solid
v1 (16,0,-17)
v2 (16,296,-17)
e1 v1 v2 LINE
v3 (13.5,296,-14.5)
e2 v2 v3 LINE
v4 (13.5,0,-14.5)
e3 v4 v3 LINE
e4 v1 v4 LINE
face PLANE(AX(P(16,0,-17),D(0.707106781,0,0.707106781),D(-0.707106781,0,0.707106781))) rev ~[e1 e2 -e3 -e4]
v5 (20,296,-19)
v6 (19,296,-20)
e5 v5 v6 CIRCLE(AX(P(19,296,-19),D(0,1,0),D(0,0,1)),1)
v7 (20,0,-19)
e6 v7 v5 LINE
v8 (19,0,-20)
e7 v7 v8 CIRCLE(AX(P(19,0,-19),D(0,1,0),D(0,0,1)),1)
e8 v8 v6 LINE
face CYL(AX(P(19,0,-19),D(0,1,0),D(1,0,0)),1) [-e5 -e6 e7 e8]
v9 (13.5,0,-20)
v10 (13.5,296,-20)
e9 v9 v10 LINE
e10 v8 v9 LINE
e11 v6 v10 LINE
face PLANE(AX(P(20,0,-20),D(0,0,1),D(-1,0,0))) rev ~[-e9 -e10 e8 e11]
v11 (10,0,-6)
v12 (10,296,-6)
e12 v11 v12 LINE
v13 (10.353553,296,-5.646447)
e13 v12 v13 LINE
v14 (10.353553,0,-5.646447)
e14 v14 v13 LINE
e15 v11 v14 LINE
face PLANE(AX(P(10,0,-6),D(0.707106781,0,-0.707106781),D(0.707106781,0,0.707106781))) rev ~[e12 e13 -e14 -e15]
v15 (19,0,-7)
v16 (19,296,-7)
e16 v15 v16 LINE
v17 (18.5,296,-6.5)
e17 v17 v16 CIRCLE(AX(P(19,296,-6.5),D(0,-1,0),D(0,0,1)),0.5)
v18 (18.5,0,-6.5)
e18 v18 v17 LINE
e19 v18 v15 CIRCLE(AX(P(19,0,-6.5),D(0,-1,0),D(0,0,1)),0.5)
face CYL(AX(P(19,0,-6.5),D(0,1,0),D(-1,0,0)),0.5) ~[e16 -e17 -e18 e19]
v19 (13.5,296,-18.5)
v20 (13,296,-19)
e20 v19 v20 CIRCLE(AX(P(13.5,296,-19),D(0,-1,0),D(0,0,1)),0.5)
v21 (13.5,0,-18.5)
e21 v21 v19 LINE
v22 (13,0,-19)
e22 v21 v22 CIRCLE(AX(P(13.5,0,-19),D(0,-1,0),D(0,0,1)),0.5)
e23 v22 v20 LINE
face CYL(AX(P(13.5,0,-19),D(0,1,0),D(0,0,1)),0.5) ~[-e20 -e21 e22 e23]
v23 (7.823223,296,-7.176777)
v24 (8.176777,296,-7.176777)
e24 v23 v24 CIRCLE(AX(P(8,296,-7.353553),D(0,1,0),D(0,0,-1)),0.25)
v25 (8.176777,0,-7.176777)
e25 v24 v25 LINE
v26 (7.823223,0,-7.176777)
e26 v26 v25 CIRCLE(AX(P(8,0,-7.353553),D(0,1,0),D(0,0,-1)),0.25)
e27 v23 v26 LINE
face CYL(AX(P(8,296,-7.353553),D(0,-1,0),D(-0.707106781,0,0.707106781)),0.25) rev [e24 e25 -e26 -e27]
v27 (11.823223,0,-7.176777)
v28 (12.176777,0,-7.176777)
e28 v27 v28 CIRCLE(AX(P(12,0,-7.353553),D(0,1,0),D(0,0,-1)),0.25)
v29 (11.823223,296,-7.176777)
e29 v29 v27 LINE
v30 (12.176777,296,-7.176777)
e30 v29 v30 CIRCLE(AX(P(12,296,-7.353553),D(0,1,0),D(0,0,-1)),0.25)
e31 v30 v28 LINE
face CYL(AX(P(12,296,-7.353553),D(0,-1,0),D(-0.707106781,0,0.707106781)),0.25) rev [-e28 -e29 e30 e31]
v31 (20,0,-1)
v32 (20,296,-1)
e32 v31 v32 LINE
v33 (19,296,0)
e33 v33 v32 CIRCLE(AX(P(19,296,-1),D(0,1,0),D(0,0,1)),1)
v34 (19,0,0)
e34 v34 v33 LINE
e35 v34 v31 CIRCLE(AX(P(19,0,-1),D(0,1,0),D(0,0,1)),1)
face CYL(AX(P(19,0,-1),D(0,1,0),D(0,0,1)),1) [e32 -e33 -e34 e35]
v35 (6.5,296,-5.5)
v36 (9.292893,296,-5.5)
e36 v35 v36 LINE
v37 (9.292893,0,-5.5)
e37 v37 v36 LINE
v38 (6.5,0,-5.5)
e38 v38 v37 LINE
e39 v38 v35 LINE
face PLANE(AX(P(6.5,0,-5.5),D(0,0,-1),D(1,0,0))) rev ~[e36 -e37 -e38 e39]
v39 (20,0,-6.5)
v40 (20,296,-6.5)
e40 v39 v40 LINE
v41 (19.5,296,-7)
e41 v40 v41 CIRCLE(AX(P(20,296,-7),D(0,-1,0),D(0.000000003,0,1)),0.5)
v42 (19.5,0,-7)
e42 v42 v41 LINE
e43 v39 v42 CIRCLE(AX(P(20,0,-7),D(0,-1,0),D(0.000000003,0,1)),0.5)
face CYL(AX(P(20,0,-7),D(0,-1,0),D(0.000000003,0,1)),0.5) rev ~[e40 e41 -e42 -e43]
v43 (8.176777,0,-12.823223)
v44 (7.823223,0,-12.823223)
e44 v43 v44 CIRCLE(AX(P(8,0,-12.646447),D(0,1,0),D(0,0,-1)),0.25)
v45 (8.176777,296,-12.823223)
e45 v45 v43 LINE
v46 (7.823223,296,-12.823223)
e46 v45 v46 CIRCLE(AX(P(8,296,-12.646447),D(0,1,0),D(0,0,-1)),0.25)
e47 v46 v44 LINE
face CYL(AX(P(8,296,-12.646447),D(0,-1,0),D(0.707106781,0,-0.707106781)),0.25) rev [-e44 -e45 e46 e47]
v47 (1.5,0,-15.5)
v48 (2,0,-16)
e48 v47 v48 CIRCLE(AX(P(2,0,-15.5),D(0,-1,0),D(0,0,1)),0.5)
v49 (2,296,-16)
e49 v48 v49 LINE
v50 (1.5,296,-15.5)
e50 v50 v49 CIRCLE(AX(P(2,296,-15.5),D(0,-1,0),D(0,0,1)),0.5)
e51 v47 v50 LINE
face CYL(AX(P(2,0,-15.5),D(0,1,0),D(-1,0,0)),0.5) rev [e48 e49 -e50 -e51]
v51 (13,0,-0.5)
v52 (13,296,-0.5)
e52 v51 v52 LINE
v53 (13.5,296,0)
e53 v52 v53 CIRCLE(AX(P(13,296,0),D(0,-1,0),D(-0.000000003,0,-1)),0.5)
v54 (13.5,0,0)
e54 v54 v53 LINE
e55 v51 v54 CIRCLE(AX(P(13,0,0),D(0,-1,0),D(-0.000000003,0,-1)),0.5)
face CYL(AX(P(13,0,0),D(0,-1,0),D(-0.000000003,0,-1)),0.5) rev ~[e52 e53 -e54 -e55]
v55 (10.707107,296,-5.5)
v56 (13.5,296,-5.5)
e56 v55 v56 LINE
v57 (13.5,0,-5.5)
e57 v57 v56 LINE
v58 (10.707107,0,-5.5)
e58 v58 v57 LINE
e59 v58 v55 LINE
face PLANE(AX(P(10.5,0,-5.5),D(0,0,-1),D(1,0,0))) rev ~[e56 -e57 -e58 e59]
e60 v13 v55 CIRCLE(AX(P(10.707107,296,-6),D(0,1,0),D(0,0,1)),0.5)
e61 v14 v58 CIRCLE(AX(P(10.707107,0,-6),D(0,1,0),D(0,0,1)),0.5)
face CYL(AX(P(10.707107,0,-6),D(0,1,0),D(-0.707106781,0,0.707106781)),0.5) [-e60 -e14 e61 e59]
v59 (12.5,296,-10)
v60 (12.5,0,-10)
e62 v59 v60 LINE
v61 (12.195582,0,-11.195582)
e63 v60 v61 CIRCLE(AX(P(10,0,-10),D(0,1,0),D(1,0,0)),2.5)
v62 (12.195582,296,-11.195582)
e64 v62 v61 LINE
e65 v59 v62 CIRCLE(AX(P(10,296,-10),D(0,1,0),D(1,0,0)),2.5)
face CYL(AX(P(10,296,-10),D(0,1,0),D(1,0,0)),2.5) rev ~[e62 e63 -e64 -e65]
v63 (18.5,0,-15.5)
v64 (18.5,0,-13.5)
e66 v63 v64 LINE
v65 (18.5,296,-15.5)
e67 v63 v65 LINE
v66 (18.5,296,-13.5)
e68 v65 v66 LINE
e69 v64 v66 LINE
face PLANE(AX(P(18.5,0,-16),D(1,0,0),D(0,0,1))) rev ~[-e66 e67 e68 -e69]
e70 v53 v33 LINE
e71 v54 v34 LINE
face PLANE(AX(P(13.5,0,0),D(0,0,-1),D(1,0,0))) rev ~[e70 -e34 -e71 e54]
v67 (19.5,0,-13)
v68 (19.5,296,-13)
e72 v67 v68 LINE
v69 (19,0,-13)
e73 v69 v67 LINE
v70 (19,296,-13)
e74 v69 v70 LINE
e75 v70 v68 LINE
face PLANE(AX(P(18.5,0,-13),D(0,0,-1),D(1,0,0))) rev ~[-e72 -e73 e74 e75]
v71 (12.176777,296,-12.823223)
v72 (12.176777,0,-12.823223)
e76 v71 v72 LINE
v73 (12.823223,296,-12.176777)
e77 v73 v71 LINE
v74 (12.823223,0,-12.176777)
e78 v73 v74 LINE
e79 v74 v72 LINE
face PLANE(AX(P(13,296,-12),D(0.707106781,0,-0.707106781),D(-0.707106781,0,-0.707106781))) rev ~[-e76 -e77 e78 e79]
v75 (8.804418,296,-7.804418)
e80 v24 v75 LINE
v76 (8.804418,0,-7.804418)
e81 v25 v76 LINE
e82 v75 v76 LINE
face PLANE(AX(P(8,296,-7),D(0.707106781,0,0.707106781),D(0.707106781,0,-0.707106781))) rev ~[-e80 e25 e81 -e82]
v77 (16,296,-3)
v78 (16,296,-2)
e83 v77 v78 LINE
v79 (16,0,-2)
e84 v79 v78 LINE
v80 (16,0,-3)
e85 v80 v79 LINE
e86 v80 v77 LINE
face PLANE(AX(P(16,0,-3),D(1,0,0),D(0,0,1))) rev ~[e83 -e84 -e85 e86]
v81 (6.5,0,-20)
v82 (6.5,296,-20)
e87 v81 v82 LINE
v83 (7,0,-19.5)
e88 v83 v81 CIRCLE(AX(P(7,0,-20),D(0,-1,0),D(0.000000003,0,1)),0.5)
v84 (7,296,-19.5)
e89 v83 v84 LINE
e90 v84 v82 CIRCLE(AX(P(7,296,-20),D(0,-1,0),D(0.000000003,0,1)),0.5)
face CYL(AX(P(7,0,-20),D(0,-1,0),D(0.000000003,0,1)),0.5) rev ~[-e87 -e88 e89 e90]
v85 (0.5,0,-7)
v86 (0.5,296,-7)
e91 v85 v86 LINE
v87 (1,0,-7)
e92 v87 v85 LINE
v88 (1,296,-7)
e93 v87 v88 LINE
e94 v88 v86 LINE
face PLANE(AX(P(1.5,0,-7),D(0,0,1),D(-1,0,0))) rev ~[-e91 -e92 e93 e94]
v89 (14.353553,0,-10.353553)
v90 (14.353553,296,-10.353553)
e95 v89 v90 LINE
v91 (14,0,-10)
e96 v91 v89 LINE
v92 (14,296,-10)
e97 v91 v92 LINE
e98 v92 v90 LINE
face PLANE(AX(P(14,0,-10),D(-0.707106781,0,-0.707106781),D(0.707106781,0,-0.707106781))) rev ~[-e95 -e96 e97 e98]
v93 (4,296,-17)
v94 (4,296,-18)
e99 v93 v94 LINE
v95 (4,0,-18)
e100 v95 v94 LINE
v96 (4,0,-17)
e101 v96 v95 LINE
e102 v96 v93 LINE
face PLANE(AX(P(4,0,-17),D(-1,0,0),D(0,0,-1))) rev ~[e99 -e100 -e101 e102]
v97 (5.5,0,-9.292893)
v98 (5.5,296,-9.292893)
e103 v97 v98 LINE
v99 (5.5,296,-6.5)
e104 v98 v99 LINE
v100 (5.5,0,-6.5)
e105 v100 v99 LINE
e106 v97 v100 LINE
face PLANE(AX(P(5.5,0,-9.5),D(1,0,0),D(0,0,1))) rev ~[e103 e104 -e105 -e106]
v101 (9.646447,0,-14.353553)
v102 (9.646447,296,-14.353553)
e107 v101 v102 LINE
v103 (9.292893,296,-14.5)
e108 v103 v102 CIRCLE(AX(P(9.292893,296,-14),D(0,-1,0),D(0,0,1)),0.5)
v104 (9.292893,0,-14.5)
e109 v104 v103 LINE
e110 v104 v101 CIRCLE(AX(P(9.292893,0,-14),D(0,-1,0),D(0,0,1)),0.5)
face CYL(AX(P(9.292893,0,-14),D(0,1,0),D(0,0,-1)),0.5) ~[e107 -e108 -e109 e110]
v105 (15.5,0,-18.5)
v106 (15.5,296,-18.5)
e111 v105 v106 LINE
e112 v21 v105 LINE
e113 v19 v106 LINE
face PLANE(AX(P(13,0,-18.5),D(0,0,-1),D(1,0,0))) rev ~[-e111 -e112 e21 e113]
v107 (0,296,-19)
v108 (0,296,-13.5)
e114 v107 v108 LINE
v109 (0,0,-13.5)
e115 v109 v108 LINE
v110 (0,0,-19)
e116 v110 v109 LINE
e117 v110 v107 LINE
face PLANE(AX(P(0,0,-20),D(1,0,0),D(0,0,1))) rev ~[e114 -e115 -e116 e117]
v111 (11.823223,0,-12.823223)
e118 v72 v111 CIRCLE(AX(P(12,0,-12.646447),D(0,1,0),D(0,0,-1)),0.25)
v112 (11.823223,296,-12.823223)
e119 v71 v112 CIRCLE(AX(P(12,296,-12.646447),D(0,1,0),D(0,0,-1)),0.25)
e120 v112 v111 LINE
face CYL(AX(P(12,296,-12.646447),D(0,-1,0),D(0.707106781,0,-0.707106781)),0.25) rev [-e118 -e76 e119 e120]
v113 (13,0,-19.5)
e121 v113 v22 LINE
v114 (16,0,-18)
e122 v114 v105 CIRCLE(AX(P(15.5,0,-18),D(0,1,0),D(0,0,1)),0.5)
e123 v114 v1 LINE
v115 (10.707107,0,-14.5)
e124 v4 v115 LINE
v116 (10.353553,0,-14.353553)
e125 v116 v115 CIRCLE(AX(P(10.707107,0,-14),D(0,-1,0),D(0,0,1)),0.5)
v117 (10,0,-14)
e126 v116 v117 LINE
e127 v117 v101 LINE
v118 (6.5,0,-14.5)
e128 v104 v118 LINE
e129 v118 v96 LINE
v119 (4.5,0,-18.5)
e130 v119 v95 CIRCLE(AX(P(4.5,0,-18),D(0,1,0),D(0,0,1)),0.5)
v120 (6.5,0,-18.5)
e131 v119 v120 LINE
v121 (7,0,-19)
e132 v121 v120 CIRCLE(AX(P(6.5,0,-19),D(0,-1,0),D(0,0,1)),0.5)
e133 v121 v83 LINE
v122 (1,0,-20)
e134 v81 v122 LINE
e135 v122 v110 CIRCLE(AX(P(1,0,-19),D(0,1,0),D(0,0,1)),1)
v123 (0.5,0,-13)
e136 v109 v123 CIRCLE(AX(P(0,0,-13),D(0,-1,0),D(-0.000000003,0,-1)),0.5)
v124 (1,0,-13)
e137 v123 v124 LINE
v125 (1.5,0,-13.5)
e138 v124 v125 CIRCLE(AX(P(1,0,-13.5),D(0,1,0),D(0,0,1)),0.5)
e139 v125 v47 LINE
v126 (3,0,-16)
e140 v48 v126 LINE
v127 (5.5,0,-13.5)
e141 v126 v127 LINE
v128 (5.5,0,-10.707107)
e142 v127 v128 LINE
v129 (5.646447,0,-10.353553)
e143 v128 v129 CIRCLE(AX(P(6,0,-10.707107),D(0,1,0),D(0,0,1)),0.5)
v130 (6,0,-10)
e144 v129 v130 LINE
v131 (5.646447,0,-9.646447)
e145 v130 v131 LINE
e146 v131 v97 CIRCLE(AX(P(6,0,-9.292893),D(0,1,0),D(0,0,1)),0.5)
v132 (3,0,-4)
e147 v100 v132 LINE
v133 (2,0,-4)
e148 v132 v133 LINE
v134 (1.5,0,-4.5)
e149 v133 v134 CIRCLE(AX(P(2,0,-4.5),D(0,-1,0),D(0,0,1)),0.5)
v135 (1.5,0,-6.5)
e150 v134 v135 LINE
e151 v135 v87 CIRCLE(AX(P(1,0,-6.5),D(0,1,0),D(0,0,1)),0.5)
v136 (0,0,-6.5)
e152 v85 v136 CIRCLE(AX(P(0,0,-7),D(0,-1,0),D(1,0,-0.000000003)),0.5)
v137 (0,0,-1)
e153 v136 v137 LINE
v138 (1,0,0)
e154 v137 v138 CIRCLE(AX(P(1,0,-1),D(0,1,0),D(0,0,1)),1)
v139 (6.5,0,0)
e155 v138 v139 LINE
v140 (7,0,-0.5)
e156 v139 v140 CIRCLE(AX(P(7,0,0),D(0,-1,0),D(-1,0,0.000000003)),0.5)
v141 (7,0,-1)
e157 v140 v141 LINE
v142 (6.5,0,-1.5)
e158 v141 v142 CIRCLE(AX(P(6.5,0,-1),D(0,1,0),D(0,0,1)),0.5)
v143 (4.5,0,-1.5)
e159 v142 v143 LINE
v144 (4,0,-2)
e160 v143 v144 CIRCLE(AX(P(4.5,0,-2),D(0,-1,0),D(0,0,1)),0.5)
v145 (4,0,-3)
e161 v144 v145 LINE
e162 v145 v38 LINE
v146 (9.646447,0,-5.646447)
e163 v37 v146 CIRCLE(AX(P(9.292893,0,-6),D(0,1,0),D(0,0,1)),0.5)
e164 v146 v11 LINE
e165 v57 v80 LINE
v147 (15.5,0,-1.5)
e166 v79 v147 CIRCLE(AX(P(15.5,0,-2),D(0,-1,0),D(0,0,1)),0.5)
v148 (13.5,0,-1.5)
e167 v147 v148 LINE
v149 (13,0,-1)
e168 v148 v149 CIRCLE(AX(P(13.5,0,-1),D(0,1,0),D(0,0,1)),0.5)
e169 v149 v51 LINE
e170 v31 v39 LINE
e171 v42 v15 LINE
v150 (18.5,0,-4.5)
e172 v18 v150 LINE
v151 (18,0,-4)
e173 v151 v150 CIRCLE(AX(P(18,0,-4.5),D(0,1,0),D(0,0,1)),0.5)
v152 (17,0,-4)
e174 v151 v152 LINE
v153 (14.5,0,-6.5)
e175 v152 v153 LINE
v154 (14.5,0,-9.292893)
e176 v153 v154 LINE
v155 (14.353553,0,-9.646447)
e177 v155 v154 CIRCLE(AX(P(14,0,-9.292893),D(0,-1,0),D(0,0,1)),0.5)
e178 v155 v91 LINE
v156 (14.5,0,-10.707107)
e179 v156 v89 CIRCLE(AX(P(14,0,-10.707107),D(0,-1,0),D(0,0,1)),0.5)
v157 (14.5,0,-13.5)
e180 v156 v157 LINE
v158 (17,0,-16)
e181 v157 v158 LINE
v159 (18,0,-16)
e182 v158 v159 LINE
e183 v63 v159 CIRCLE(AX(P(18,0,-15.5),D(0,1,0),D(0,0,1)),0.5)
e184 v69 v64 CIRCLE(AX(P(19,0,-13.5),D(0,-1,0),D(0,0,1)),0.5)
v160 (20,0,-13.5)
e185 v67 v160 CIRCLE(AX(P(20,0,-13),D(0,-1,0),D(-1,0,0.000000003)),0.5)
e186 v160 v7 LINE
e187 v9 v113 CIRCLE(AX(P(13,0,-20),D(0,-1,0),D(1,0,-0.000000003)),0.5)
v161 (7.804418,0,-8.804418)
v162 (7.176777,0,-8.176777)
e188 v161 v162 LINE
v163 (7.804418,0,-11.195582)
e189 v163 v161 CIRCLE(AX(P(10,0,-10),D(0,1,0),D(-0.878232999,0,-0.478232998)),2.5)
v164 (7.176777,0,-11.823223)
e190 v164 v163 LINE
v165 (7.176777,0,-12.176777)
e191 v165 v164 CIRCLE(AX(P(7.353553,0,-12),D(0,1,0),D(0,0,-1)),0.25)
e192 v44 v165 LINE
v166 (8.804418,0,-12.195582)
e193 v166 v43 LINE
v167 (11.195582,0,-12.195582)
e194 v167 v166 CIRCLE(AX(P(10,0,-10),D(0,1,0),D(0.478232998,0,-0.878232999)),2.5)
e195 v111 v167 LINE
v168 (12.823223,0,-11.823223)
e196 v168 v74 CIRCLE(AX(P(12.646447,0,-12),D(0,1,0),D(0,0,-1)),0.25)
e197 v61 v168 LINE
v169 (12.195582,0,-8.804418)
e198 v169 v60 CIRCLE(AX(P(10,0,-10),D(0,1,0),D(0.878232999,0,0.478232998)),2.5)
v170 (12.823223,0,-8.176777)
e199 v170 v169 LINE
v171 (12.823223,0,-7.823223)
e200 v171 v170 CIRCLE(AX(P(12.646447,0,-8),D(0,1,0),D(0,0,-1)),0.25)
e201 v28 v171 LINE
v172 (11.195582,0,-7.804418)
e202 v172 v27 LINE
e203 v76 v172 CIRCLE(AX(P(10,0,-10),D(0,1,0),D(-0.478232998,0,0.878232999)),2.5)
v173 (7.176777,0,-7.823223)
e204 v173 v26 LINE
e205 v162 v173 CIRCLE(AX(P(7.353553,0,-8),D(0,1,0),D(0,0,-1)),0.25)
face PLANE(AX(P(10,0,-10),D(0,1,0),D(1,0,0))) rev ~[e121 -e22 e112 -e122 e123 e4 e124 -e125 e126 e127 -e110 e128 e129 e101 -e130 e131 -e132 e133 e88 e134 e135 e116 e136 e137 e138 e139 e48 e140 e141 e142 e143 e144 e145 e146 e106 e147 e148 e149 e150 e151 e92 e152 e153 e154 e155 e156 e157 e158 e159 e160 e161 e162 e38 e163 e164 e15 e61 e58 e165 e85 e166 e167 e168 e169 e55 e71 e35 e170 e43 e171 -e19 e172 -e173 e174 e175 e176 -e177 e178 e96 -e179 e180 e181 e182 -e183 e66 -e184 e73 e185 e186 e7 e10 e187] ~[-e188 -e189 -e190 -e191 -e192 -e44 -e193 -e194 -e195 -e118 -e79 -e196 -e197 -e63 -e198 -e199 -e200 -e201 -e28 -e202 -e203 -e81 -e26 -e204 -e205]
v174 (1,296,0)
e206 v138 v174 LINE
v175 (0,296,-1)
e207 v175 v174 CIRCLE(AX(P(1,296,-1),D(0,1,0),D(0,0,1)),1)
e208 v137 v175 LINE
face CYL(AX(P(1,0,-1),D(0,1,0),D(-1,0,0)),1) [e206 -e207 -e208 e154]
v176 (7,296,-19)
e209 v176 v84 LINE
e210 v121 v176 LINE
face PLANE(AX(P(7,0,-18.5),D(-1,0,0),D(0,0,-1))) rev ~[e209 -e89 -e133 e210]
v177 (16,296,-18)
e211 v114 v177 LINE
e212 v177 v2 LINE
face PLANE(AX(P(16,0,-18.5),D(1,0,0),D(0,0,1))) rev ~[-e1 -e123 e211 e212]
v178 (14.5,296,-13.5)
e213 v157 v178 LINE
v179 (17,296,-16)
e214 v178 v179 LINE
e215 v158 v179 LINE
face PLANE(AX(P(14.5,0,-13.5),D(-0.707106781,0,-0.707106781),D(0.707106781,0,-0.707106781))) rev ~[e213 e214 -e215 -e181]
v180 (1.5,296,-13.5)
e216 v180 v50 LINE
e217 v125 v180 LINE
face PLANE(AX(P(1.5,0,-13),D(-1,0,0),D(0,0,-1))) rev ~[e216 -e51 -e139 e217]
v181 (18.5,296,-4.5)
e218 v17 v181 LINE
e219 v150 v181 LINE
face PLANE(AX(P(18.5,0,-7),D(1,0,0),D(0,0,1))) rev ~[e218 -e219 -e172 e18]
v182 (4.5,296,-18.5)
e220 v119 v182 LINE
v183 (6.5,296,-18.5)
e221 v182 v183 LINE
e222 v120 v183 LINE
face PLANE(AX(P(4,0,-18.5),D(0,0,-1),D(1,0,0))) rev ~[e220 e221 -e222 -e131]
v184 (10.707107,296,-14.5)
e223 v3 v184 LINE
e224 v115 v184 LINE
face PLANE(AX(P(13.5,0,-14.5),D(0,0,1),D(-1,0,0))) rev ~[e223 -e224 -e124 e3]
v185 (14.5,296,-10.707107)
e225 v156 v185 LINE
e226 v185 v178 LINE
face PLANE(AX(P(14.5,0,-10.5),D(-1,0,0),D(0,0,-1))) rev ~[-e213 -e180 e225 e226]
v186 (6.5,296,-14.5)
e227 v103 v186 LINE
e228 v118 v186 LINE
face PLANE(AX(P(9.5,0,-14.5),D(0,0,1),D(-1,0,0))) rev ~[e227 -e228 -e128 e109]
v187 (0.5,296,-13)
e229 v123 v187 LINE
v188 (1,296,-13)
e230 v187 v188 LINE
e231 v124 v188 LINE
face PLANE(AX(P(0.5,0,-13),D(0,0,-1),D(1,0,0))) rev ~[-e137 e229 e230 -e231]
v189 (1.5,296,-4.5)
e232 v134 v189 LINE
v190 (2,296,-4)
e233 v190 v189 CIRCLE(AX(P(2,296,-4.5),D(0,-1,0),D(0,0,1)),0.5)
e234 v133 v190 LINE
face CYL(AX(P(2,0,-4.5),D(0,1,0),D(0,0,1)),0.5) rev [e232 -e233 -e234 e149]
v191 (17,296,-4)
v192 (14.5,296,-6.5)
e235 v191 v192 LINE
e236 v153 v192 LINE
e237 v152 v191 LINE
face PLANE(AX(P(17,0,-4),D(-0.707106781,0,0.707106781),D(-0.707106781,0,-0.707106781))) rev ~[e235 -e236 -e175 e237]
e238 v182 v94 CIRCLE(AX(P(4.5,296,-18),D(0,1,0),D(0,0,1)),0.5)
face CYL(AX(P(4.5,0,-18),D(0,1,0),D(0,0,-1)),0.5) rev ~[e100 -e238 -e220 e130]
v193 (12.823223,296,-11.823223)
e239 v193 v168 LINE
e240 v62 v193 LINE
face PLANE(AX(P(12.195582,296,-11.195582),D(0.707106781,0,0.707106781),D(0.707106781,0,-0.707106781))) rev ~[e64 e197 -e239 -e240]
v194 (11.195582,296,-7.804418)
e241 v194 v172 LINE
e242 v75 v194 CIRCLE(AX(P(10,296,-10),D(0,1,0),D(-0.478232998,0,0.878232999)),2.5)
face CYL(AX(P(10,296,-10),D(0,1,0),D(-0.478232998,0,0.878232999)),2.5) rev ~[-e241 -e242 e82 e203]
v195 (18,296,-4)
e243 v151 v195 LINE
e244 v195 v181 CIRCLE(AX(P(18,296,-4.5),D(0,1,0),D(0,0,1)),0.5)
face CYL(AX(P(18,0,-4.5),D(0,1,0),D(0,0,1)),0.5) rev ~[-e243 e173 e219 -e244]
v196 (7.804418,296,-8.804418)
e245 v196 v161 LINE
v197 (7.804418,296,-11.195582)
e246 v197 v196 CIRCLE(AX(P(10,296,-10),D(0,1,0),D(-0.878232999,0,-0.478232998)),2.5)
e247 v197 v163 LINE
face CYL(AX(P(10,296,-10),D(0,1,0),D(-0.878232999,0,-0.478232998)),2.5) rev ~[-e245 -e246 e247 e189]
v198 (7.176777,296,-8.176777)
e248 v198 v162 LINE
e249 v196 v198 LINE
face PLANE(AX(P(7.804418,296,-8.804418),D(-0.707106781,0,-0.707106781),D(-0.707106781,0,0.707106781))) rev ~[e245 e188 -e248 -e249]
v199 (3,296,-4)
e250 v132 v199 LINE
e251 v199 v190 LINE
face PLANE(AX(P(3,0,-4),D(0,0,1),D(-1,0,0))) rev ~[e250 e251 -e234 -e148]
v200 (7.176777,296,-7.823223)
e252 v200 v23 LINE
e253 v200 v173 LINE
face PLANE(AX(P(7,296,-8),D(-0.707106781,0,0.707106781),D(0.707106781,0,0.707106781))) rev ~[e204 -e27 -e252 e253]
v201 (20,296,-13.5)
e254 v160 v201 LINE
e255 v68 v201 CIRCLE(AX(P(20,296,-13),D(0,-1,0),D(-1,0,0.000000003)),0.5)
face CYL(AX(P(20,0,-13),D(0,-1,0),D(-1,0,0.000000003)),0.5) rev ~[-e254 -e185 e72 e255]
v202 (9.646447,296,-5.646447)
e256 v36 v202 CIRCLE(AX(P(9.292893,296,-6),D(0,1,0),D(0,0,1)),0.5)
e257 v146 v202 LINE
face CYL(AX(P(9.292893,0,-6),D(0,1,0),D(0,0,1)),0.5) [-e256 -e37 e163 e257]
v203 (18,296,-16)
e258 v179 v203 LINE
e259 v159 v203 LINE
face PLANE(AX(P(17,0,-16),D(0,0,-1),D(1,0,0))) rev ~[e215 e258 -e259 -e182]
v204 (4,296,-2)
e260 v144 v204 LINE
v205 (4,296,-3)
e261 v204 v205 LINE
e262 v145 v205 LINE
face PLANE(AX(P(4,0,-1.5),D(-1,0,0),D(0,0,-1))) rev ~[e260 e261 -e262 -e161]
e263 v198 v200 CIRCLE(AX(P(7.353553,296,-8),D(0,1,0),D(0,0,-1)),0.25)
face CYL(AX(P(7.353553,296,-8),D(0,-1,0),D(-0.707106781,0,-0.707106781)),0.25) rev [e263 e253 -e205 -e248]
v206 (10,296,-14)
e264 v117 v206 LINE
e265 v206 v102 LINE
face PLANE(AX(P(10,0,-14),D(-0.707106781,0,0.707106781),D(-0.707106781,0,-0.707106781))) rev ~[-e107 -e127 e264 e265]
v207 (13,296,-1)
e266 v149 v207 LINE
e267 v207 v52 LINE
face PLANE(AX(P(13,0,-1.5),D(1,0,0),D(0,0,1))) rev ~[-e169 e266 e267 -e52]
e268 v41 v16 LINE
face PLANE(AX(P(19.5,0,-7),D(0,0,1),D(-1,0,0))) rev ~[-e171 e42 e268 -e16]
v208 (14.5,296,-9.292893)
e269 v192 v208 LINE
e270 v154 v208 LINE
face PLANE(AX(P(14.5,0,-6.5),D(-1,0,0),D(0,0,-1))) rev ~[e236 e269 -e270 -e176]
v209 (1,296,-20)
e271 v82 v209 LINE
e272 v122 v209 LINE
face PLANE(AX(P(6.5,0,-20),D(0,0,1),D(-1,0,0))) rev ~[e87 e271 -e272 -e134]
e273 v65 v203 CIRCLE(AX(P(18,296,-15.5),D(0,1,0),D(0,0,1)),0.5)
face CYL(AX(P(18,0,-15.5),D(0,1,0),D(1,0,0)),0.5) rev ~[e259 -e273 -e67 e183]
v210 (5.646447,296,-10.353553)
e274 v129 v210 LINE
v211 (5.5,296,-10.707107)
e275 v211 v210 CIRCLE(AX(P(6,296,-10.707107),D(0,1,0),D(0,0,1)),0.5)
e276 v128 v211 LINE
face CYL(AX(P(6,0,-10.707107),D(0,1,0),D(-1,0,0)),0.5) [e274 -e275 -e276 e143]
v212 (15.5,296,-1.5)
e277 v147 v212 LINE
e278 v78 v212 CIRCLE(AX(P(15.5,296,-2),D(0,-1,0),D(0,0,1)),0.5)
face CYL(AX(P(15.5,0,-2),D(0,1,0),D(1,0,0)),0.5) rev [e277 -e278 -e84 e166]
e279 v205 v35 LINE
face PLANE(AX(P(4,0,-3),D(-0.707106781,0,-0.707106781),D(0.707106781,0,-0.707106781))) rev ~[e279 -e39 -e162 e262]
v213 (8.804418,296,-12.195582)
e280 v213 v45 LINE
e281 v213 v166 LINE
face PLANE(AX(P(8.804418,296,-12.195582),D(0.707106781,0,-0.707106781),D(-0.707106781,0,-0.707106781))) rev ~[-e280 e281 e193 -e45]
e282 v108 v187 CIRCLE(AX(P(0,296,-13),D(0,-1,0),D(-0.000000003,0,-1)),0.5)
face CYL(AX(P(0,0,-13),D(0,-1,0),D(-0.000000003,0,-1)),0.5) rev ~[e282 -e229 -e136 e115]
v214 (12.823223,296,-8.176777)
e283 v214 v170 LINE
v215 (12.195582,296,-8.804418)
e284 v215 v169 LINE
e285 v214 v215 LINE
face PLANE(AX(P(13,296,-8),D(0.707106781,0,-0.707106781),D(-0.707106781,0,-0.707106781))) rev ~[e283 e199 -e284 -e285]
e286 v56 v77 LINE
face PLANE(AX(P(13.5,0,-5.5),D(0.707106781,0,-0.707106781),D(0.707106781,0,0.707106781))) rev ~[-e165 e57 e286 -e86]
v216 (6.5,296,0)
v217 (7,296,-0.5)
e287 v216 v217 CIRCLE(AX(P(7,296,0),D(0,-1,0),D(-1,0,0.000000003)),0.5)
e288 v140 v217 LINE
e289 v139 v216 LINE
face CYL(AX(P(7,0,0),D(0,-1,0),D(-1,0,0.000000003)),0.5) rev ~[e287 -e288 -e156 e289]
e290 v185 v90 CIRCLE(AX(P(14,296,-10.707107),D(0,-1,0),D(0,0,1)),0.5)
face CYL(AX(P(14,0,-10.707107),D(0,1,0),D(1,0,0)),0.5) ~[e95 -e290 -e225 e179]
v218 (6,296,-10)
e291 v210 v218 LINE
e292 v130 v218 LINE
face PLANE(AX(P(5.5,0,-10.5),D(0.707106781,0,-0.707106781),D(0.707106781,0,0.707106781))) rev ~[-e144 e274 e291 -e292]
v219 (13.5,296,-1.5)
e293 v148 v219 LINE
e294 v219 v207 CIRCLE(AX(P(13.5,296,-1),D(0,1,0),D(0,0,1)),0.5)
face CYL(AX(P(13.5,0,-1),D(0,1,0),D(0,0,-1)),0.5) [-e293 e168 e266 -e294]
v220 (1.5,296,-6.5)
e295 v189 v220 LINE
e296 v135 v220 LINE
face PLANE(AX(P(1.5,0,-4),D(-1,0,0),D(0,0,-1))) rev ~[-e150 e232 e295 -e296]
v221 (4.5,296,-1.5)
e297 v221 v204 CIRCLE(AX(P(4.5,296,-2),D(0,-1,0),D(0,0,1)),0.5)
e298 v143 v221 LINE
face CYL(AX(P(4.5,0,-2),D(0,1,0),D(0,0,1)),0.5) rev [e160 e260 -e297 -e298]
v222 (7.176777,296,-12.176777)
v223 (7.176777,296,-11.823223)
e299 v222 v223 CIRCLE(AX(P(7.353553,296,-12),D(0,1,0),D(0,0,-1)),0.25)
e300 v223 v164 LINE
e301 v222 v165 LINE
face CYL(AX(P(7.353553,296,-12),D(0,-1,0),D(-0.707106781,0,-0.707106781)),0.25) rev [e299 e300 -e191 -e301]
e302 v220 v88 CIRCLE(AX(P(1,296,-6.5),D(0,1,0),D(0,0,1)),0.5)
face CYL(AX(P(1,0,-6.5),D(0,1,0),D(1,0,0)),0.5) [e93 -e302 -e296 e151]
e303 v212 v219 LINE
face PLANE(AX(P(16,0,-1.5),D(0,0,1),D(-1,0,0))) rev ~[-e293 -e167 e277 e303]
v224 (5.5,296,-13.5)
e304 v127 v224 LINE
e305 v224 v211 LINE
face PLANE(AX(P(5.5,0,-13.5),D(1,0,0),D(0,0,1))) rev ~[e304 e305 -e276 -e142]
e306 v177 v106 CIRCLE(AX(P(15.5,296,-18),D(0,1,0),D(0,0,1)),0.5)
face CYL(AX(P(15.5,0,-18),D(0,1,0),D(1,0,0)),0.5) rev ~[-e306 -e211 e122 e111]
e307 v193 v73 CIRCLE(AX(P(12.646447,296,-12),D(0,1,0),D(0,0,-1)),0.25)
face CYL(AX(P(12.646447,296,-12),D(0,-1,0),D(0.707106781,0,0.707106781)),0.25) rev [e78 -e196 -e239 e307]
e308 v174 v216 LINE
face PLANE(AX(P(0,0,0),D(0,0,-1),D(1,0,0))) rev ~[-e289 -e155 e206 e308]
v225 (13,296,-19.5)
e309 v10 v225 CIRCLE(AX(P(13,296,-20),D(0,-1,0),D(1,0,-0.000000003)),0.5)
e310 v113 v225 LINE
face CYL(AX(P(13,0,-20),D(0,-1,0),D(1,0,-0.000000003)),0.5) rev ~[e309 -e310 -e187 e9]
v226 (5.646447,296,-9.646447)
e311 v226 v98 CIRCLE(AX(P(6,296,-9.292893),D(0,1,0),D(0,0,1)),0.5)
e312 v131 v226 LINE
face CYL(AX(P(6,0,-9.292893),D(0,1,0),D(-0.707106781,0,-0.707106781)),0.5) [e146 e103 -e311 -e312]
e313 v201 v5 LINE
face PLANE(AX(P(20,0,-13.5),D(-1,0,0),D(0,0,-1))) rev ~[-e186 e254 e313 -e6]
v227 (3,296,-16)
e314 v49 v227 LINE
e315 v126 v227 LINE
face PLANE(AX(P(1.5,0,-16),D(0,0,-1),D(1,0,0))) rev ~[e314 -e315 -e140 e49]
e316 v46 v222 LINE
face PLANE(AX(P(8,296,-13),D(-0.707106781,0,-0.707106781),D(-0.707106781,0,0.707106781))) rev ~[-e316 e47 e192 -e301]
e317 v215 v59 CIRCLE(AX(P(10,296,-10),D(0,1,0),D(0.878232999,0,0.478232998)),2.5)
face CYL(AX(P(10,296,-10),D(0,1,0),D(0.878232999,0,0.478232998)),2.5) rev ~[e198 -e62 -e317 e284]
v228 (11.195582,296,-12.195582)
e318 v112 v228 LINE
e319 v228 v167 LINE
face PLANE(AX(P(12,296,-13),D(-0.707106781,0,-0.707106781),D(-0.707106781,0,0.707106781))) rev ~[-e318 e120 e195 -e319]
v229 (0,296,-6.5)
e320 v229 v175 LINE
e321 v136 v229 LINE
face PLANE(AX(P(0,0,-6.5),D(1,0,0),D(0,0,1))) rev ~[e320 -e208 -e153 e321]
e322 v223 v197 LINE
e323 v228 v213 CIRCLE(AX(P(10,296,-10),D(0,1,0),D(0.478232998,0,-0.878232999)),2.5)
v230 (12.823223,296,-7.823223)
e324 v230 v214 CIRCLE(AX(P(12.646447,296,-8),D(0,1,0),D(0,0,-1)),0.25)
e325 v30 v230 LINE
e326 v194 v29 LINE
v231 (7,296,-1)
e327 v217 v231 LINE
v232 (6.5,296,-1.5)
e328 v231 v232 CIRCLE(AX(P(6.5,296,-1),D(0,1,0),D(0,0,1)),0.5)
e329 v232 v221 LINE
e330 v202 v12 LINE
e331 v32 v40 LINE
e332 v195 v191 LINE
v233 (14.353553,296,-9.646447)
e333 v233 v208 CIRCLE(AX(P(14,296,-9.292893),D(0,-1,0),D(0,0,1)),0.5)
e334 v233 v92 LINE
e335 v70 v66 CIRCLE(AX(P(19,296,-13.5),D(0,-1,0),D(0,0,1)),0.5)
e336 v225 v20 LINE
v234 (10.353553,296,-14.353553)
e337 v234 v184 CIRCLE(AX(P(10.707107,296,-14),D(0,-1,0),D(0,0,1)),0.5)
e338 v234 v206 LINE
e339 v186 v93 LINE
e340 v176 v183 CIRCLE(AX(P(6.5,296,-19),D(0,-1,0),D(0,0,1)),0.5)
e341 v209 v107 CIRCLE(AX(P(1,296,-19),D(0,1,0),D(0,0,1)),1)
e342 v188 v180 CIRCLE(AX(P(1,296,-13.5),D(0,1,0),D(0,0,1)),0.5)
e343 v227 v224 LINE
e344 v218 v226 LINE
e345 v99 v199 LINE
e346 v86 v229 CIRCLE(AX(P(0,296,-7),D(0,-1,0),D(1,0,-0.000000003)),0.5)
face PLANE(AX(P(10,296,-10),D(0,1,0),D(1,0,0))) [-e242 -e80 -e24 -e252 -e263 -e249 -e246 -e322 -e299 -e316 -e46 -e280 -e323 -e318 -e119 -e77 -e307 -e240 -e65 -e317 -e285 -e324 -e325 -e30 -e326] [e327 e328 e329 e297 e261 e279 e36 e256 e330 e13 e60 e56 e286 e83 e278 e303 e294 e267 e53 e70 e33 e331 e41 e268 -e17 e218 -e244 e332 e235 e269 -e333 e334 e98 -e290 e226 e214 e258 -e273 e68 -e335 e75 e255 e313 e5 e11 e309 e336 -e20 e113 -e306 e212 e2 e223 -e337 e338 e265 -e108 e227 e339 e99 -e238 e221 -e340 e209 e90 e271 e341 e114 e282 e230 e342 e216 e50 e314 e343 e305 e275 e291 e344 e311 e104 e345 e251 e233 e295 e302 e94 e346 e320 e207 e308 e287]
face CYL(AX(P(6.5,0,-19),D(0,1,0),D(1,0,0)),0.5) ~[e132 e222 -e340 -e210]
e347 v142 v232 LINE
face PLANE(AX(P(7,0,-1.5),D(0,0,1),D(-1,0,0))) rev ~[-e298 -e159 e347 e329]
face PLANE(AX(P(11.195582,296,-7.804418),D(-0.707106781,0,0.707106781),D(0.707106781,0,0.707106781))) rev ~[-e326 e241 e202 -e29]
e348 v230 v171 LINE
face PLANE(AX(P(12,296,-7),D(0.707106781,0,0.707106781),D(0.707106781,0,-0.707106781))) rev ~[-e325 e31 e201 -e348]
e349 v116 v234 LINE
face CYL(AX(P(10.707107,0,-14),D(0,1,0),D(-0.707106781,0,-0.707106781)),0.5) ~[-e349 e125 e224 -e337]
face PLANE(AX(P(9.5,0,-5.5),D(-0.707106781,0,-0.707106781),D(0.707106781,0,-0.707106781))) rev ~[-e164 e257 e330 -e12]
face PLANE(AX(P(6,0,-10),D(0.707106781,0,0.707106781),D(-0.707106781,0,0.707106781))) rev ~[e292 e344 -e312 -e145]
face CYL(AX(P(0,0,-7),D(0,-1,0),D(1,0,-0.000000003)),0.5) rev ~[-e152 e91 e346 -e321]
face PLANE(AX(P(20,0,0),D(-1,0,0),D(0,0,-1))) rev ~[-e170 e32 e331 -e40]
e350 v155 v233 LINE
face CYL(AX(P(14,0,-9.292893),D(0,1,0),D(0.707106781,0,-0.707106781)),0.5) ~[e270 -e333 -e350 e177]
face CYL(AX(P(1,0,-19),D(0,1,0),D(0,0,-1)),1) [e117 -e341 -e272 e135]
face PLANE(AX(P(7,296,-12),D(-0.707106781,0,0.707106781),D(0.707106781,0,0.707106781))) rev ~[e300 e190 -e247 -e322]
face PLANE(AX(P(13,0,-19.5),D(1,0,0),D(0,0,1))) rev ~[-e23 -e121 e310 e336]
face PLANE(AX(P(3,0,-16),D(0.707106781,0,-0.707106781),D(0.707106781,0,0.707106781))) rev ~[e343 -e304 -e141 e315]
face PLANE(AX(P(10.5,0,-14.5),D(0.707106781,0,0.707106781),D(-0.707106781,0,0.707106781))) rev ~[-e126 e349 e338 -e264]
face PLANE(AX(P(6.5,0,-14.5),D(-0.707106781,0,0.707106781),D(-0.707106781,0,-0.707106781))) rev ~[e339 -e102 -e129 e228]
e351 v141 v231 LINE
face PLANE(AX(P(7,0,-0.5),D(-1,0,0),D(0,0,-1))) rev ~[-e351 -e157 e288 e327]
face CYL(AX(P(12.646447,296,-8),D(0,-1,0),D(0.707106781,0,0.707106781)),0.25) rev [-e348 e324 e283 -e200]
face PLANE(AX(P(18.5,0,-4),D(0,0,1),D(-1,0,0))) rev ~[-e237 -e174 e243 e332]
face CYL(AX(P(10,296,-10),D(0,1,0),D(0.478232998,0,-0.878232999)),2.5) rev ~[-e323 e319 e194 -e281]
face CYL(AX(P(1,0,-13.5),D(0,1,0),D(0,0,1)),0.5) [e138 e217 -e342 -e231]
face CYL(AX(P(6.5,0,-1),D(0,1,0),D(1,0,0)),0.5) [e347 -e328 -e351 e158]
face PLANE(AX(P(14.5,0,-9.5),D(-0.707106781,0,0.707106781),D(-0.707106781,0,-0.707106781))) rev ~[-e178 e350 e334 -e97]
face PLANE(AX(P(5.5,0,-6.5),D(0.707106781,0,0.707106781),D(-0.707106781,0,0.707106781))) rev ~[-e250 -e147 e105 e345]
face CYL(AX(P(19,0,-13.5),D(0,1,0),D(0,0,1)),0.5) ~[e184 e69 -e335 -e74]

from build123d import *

# Parameters (mm, degrees)
BOSS_EXTRUDE1_DEPTH = 296
FILLET1_R           = 1
CUT_EXTRUDE1_DEPTH  = 297
FILLET2_R           = 0.5
FILLET3_R           = 0.25


with BuildPart() as part:
    # Sketch3 → Boss-Extrude1 (new body)
    with BuildSketch(Plane(origin=(0, 0, 0), x_dir=(1, 0, 0), z_dir=(0, 1, 0))):
        with BuildLine():
            Line((7, 18.5), (7, 19.5))
            ThreePointArc((7, 19.5), (6.646446609, 19.646446609), (6.5, 20))
            Line((6.5, 20), (0, 20))
            Line((0, 20), (0, 13.5))
            ThreePointArc((0, 13.5), (0.353553391, 13.353553391), (0.5, 13))
            Line((0.5, 13), (1.5, 13))
            Line((1.5, 13), (1.5, 16))
            Line((1.5, 16), (3, 16))
            Line((3, 16), (5.5, 13.5))
            Line((5.5, 13.5), (5.5, 10.5))
            Line((5.5, 10.5), (6, 10))
            Line((6, 10), (5.5, 9.5))
            Line((5.5, 9.5), (5.5, 6.5))
            Line((5.5, 6.5), (3, 4))
            Line((3, 4), (1.5, 4))
            Line((1.5, 4), (1.5, 7))
            Line((1.5, 7), (0.5, 7))
            ThreePointArc((0.5, 7), (0.353553391, 6.646446609), (0, 6.5))
            Line((0, 6.5), (0, 0))
            Line((0, 0), (6.5, 0))
            ThreePointArc((6.5, 0), (6.646446609, 0.353553391), (7, 0.5))
            Line((7, 0.5), (7, 1.5))
            Line((7, 1.5), (4, 1.5))
            Line((4, 1.5), (4, 3))
            Line((4, 3), (6.5, 5.5))
            Line((6.5, 5.5), (9.5, 5.5))
            Line((9.5, 5.5), (10, 6))
            Line((10, 6), (10.5, 5.5))
            Line((10.5, 5.5), (13.5, 5.5))
            Line((13.5, 5.5), (16, 3))
            Line((16, 3), (16, 1.5))
            Line((16, 1.5), (13, 1.5))
            Line((13, 1.5), (13, 0.5))
            ThreePointArc((13, 0.5), (13.353553391, 0.353553391), (13.5, 0))
            Line((13.5, 0), (20, 0))
            Line((20, 0), (20, 6.5))
            ThreePointArc((20, 6.5), (19.646446609, 6.646446609), (19.5, 7))
            Line((19.5, 7), (18.5, 7))
            Line((18.5, 7), (18.5, 4))
            Line((18.5, 4), (17, 4))
            Line((17, 4), (14.5, 6.5))
            Line((14.5, 6.5), (14.5, 9.5))
            Line((14.5, 9.5), (14, 10))
            Line((14, 10), (14.5, 10.5))
            Line((14.5, 10.5), (14.5, 13.5))
            Line((14.5, 13.5), (17, 16))
            Line((17, 16), (18.5, 16))
            Line((18.5, 16), (18.5, 13))
            Line((18.5, 13), (19.5, 13))
            ThreePointArc((19.5, 13), (19.646446609, 13.353553391), (20, 13.5))
            Line((20, 13.5), (20, 20))
            Line((20, 20), (13.5, 20))
            ThreePointArc((13.5, 20), (13.353553391, 19.646446609), (13, 19.5))
            Line((13, 19.5), (13, 18.5))
            Line((13, 18.5), (16, 18.5))
            Line((16, 18.5), (16, 17))
            Line((16, 17), (13.5, 14.5))
            Line((13.5, 14.5), (10.5, 14.5))
            Line((10.5, 14.5), (10, 14))
            Line((10, 14), (9.5, 14.5))
            Line((9.5, 14.5), (6.5, 14.5))
            Line((6.5, 14.5), (4, 17))
            Line((4, 17), (4, 18.5))
            Line((4, 18.5), (7, 18.5))
        make_face()
    extrude(amount=BOSS_EXTRUDE1_DEPTH)

    # Fillet1
    fillet1_edges = [part.edges().sort_by_distance(p)[0] for p in [
        (20, 148, 0),
        (0, 148, 0),
        (0, 148, -20),
        (20, 148, -20),
    ]]
    fillet(fillet1_edges, radius=FILLET1_R)

    # Sketch4 → Cut-Extrude1 (cut, through all)
    with BuildSketch(Plane(origin=(0, 296, 0), x_dir=(1, 0, 0), z_dir=(0, 1, 0))):
        with BuildLine():
            Line((10, 11), (11.195582496, 12.195582496))
            ThreePointArc((11.195582496, 12.195582496), (10, 12.5), (8.804417504, 12.195582496))
            Line((8.804417504, 12.195582496), (10, 11))
        make_face()
        with BuildLine():
            ThreePointArc((12.195582496, 11.195582496), (11.767766953, 11.767766953), (11.195582496, 12.195582496))
            Line((11.195582496, 12.195582496), (10, 11))
            Line((10, 11), (11, 10))
            Line((11, 10), (12.195582496, 11.195582496))
        make_face()
        with BuildLine():
            Line((9, 10), (10, 11))
            Line((10, 11), (8.804417504, 12.195582496))
            ThreePointArc((8.804417504, 12.195582496), (8.232233047, 11.767766953), (7.804417504, 11.195582496))
            Line((7.804417504, 11.195582496), (9, 10))
        make_face()
        Polygon((11, 10), (10, 11), (9, 10), (10, 9), align=None)
        with BuildLine():
            Line((7.804417504, 8.804417504), (9, 10))
            Line((9, 10), (7.804417504, 11.195582496))
            ThreePointArc((7.804417504, 11.195582496), (7.5, 10), (7.804417504, 8.804417504))
        make_face()
        with BuildLine():
            Line((10, 9), (9, 10))
            Line((9, 10), (7.804417504, 8.804417504))
            ThreePointArc((7.804417504, 8.804417504), (8.232233047, 8.232233047), (8.804417504, 7.804417504))
            Line((8.804417504, 7.804417504), (10, 9))
        make_face()
        with BuildLine():
            Line((11.195582496, 7.804417504), (10, 9))
            Line((10, 9), (8.804417504, 7.804417504))
            ThreePointArc((8.804417504, 7.804417504), (10, 7.5), (11.195582496, 7.804417504))
        make_face()
        with BuildLine():
            Line((12.195582496, 8.804417504), (11, 10))
            Line((11, 10), (10, 9))
            Line((10, 9), (11.195582496, 7.804417504))
            ThreePointArc((11.195582496, 7.804417504), (11.767766953, 8.232233047), (12.195582496, 8.804417504))
        make_face()
        with BuildLine():
            ThreePointArc((12.5, 10), (12.422700584, 10.616864556), (12.195582496, 11.195582496))
            Line((12.195582496, 11.195582496), (11, 10))
            Line((11, 10), (12.195582496, 8.804417504))
            ThreePointArc((12.195582496, 8.804417504), (12.422700584, 9.383135444), (12.5, 10))
        make_face()
        with BuildLine():
            ThreePointArc((8.804417504, 7.804417504), (8.232233047, 8.232233047), (7.804417504, 8.804417504))
            Line((7.804417504, 8.804417504), (7, 8))
            Line((7, 8), (8, 7))
            Line((8, 7), (8.804417504, 7.804417504))
        make_face()
        with BuildLine():
            Line((13, 8), (12.195582496, 8.804417504))
            ThreePointArc((12.195582496, 8.804417504), (11.767766953, 8.232233047), (11.195582496, 7.804417504))
            Line((11.195582496, 7.804417504), (12, 7))
            Line((12, 7), (13, 8))
        make_face()
        with BuildLine():
            Line((13, 12), (12, 13))
            Line((12, 13), (11.195582496, 12.195582496))
            ThreePointArc((11.195582496, 12.195582496), (11.767766953, 11.767766953), (12.195582496, 11.195582496))
            Line((12.195582496, 11.195582496), (13, 12))
        make_face()
        with BuildLine():
            ThreePointArc((7.804417504, 11.195582496), (8.232233047, 11.767766953), (8.804417504, 12.195582496))
            Line((8.804417504, 12.195582496), (8, 13))
            Line((8, 13), (7, 12))
            Line((7, 12), (7.804417504, 11.195582496))
        make_face()
    extrude(amount=-CUT_EXTRUDE1_DEPTH, mode=Mode.SUBTRACT)

    # Fillet2
    fillet2_edges = [part.edges().sort_by_distance(p)[0] for p in [
        (18.5, 148, -13),
        (18.5, 148, -16),
        (14.5, 148, -10.5),
        (14.5, 148, -9.5),
        (18.5, 148, -4),
        (18.5, 148, -7),
        (13, 148, -1.5),
        (16, 148, -1.5),
        (10.5, 148, -5.5),
        (9.5, 148, -5.5),
        (4, 148, -1.5),
        (7, 148, -1.5),
        (1.5, 148, -7),
        (1.5, 148, -4),
        (5.5, 148, -9.5),
        (5.5, 148, -10.5),
        (1.5, 148, -16),
        (1.5, 148, -13),
        (7, 148, -18.5),
        (4, 148, -18.5),
        (9.5, 148, -14.5),
        (10.5, 148, -14.5),
        (16, 148, -18.5),
        (13, 148, -18.5),
    ]]
    fillet(fillet2_edges, radius=FILLET2_R)

    # Fillet3
    fillet3_edges = [part.edges().sort_by_distance(p)[0] for p in [
        (7, 148, -12),
        (8, 148, -13),
        (12, 148, -13),
        (13, 148, -12),
        (13, 148, -8),
        (12, 148, -7),
        (8, 148, -7),
        (7, 148, -8),
    ]]
    fillet(fillet3_edges, radius=FILLET3_R)


solid = part.part
